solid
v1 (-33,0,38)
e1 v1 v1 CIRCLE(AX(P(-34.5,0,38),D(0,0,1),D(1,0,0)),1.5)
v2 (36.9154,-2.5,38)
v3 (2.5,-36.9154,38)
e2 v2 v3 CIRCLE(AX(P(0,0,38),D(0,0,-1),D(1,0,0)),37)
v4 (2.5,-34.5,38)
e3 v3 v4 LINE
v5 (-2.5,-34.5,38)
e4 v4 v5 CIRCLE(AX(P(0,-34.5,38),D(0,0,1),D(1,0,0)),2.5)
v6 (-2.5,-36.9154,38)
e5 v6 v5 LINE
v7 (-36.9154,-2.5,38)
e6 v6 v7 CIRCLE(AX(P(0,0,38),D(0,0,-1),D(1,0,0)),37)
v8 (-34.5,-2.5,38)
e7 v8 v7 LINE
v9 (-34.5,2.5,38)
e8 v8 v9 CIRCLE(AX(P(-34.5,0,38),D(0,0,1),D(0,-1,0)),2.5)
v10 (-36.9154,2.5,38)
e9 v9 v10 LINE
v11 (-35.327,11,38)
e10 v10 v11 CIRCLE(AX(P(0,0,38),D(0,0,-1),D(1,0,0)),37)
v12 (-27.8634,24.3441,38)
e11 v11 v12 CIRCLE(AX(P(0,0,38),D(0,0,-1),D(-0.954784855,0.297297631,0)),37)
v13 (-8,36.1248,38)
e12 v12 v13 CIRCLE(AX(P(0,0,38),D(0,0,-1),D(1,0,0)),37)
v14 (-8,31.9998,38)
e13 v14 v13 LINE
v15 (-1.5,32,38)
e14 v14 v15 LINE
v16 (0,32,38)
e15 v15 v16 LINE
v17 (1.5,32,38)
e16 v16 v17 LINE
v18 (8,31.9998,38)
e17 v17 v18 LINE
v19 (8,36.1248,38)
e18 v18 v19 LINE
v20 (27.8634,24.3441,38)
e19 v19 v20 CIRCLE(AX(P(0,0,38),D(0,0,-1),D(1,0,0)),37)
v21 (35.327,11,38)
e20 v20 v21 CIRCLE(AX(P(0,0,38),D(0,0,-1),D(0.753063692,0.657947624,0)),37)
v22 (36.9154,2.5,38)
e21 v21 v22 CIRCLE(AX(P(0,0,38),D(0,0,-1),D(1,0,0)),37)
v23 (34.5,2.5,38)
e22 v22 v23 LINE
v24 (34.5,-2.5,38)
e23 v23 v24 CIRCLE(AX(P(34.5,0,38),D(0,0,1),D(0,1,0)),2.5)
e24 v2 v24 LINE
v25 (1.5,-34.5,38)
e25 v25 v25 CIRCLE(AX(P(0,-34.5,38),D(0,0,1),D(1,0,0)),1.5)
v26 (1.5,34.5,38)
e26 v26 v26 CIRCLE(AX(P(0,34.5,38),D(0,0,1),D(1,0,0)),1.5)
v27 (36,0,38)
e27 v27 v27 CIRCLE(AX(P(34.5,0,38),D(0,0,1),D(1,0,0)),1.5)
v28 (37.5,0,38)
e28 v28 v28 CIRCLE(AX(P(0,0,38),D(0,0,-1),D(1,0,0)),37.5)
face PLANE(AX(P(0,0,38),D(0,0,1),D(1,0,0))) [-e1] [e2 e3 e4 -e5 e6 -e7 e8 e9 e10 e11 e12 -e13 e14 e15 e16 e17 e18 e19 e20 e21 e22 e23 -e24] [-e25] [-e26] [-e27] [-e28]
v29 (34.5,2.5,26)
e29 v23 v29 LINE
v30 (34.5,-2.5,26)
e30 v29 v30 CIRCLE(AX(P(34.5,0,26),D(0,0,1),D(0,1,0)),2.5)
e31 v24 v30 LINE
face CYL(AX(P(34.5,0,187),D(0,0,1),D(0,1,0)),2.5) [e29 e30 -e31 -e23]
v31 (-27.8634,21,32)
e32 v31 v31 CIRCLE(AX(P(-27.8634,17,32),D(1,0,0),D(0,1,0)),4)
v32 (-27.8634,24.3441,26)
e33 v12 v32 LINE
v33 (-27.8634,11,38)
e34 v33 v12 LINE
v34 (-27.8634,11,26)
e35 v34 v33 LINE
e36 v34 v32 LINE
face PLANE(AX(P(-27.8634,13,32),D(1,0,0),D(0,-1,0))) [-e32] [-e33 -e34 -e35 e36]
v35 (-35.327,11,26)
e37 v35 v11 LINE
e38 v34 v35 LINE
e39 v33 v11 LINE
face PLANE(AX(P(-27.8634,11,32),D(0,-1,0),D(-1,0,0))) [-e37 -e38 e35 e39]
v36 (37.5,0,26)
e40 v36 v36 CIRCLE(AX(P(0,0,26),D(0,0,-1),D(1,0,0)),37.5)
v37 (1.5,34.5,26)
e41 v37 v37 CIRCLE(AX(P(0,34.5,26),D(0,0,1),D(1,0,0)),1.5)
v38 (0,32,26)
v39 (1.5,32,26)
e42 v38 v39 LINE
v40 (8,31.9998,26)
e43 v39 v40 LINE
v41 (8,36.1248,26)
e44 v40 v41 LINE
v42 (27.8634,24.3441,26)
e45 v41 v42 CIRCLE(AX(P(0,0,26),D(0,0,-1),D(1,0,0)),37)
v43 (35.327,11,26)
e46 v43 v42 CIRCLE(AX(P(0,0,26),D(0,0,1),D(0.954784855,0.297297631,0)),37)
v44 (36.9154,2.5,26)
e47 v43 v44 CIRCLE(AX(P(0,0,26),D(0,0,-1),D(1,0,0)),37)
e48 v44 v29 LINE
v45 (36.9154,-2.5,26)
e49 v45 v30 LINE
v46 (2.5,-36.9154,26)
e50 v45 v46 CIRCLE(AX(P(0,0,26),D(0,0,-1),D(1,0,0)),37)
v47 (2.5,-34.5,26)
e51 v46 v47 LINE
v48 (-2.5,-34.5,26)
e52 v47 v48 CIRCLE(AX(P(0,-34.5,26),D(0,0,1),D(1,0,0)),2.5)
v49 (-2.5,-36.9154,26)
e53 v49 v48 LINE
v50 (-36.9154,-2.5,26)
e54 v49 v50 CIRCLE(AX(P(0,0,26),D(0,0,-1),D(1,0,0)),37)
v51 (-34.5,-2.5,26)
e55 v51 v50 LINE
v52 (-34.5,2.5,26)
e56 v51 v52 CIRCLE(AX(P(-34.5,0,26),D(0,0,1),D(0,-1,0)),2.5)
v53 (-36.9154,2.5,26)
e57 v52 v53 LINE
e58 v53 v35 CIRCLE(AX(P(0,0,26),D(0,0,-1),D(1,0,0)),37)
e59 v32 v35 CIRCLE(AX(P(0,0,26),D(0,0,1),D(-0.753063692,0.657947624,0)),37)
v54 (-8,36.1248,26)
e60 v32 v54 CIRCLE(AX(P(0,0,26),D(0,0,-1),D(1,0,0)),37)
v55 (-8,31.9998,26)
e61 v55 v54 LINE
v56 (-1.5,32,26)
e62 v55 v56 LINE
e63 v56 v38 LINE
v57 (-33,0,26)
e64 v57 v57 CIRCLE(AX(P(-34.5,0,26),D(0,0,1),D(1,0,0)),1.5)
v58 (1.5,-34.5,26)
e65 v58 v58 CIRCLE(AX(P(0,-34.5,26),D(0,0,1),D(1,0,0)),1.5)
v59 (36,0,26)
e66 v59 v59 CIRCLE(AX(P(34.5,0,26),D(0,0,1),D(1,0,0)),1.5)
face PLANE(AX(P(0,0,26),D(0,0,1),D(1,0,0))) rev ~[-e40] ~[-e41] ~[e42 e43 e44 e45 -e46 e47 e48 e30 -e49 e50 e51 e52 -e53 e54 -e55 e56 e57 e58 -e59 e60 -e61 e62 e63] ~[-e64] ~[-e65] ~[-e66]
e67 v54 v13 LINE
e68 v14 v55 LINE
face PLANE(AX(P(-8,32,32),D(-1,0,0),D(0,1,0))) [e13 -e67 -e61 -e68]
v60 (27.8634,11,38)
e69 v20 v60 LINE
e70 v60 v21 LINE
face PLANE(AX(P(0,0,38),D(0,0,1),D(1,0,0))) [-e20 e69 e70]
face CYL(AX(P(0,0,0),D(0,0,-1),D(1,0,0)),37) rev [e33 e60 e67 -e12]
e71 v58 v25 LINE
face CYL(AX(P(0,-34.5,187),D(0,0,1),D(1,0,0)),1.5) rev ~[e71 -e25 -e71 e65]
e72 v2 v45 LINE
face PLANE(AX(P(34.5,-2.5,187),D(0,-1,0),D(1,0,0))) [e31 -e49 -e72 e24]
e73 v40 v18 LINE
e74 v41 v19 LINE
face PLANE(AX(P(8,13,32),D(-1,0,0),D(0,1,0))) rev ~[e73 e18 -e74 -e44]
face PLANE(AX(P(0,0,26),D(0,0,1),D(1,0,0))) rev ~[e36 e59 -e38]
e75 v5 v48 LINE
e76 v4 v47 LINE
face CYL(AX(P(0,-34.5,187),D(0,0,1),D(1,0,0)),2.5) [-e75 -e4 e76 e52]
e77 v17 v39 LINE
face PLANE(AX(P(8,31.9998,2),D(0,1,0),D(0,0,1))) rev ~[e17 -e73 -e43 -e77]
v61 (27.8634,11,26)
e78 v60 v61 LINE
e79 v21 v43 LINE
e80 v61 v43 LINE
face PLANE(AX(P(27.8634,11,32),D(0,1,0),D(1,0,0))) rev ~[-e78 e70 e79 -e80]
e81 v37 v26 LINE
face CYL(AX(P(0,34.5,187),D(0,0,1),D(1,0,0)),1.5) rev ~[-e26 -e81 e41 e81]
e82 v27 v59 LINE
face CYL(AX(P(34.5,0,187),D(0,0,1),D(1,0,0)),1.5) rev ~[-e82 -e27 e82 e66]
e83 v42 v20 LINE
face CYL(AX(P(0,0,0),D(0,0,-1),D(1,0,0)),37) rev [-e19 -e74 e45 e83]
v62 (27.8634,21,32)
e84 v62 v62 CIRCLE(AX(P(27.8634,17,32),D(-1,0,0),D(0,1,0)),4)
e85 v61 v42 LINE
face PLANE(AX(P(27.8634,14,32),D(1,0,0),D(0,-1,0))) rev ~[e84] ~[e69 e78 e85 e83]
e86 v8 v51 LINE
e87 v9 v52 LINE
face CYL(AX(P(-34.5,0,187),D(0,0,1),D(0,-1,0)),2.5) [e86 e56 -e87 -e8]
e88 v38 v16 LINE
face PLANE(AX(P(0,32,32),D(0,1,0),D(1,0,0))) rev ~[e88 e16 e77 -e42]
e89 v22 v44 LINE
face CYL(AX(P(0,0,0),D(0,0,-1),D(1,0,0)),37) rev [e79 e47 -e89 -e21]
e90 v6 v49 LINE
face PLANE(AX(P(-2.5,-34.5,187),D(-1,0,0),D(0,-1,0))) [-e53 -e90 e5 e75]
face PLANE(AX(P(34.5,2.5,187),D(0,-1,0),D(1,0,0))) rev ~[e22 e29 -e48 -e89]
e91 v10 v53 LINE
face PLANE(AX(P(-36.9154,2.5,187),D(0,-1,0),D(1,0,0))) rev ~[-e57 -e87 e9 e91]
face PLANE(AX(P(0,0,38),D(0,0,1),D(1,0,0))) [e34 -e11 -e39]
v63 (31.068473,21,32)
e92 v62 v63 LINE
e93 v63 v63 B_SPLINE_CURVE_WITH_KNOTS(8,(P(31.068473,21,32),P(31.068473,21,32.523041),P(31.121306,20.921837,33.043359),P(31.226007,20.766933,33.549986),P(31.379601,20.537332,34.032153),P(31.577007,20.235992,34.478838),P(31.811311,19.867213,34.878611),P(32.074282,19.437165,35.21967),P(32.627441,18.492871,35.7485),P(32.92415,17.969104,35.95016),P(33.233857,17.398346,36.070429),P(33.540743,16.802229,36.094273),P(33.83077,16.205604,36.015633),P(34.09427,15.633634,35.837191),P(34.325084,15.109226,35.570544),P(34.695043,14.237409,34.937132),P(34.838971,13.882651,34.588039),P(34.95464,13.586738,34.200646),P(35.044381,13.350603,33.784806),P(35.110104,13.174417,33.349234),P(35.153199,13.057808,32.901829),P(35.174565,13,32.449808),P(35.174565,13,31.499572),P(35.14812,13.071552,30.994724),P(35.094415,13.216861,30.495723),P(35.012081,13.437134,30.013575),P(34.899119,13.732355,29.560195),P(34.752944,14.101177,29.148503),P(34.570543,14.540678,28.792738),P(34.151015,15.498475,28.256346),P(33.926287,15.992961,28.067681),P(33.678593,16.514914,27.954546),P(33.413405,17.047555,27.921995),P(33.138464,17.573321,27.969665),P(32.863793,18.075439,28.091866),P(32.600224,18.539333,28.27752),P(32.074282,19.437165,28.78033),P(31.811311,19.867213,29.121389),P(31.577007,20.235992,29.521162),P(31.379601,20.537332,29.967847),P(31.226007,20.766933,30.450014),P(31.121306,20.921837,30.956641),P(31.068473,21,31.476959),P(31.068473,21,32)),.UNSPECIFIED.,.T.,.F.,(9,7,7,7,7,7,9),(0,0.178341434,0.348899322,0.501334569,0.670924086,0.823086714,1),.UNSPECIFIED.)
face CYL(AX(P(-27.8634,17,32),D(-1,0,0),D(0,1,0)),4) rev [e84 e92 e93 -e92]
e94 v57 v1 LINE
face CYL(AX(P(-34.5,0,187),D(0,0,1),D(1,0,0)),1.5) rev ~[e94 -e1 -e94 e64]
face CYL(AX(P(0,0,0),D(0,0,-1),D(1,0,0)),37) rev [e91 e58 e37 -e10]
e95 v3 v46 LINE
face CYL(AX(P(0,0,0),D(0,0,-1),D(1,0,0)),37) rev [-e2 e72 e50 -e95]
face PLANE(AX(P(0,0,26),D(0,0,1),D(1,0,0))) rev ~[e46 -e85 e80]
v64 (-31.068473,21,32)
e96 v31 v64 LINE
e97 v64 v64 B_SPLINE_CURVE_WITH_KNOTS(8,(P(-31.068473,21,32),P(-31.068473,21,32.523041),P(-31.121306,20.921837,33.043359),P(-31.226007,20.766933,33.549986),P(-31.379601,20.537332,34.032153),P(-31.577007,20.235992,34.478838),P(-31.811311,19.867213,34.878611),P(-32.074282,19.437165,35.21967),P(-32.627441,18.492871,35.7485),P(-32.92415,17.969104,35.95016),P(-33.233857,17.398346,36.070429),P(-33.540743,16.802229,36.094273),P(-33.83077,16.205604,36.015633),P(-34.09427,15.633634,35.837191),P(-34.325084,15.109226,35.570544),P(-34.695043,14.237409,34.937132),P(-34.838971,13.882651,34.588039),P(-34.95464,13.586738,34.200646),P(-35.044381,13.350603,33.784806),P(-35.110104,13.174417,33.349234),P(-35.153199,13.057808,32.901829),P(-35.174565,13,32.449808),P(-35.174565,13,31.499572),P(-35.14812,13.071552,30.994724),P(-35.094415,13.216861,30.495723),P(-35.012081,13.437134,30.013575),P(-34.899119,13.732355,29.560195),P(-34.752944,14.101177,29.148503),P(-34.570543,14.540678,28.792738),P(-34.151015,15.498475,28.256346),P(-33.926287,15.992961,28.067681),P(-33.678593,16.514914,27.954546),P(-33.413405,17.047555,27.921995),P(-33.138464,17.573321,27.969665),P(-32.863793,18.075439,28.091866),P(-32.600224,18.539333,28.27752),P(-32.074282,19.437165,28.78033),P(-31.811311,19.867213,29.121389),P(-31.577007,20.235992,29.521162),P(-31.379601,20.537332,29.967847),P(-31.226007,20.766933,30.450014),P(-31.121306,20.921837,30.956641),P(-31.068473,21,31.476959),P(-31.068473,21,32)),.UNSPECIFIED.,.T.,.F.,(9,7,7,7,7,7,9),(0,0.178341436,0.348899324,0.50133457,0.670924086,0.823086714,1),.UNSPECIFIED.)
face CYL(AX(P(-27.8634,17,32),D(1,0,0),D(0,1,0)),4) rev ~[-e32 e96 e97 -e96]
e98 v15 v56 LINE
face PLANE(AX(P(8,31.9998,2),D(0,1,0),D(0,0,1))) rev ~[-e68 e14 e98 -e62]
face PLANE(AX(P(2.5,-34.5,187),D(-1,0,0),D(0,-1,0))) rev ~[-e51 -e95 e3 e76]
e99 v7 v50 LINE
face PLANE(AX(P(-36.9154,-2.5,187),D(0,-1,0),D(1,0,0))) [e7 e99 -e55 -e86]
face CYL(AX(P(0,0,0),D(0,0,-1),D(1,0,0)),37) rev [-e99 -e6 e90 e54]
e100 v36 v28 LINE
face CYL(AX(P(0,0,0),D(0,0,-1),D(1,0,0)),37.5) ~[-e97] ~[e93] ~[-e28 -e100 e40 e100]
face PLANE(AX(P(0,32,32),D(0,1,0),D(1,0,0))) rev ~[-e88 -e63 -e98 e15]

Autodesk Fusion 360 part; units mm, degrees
sketch "Esboço2" plane through (0, 0, 0) normal (0, 0, 1) x (1, 0, 0)
  circle A0 centre (0, 0) radius 37.5
  circle A1 centre (0, 0) radius 37
  dimension "d6" = 75
  dimension "d7" = 74
extrude "Extrusão2" add sketch "Esboço2" along normal blind 190
ref_plane "Plano de trabalho9" through (0, 0, 187) normal (0, 0, 1) x (1, 0, 0)
sketch "Esboço10" plane through (0, 0, 187) normal (0, 0, 1) x (1, 0, 0)
  circle A0 centre (0, 0) radius 34.5 construction
  line L0 (0, 0) -> (-68.1762, 0) construction
  line L1 (0, 0) -> (60, 0) construction
  line L2 (0, 0) -> (0, 45) construction
  line L3 (0, 0) -> (0, -43.1659) construction
  circle A1 centre (34.5, 0) radius 1.5
  line L4 (3, -43) -> (3, -42)
  circle A2 centre (0, 34.5) radius 1.5
  circle A3 centre (-34.5, 0) radius 1.5
  circle A4 centre (0, -34.5) radius 1.5
  arc A5 (34.5, 2.5) -> (34.5, -2.5) centre (34.5, 0) ccw
  arc A6 (-2.5, 34.5) -> (2.5, 34.5) centre (0, 34.5) ccw
  arc A7 (-34.5, -2.5) -> (-34.5, 2.5) centre (-34.5, 0) ccw
  arc A8 (2.5, -34.5) -> (-2.5, -34.5) centre (0, -34.5) ccw
  circle A9 centre (0, 0) radius 37
  line L5 (-36.9154, 2.5) -> (-34.4093, 2.5)
  line L6 (-36.9154, -2.5) -> (-34.4093, -2.5)
  line L7 (34.5, 2.5) -> (36.9154, 2.5)
  line L8 (34.5, -2.5) -> (36.9154, -2.5)
  line L9 (2.5, 36.9154) -> (2.5, 34.4093)
  line L10 (-2.5, 36.9154) -> (-2.5, 34.4093)
  line L11 (-2.5, -34.4093) -> (-2.5, -36.9154)
  line L12 (2.5, -34.4093) -> (2.5, -36.9154)
  dimension "d82" = 69
  dimension "d83" = 3
  dimension "d84" = 2.5
  dimension "d85" = 2.5
  dimension "d87" = 360
  dimension "d89" = 360
  dimension "d90" = 2.5
extrude "Extrusão12" add sketch "Esboço10" against normal blind 184 contours A5 A9 L7 L8 | A6 A9 L9 L10 | A8 A9 L11 L12 | A7 A9 L5 L6
thread "Rosca3"
ref_plane "Plano de trabalho3" through (0, 0, 32) normal (0, 0, 1) x (1, 0, 0)
sketch "Esboço3" plane through (0, 0, 32) normal (0, 0, 1) x (1, 0, 0)
  line L0 (0, 0) -> (0, 37) construction
  line L1 (34.2491, 14) -> (-34.2491, 14)
  circle A0 centre (0, 0) radius 37
  line L2 (31.1288, 20) -> (-31.1288, 20)
  line L3 (32.8634, 17) -> (-32.8634, 17)
  circle A1 centre (0, 0) radius 50
  circle A2 centre (0, 0) radius 37.5
  line L4 (-8, 0) -> (8, 0)
  line L5 (8, 0) -> (8, 36.1248)
  line L6 (-8, 0) -> (-8, 36.1248)
  circle A3 centre (0, 34.5) radius 1.5
  line L7 (1.5, 32.5) -> (1.5, 0)
  arc A4 (-2.5, 34.5) -> (2.5, 34.5) centre (0, 34.5) ccw
  line L8 (-1.5, 32.5) -> (-1.5, 0)
  line L9 (27.8634, 24.3441) -> (27.8634, 11)
  line L10 (27.8634, 11) -> (35.327, 11)
  line L11 (-27.8634, 11) -> (-35.327, 11)
  line L12 (-27.8634, 24.3441) -> (-27.8634, 11)
  line L13 (-30.4631, 21) -> (30.4631, 21)
  line L14 (-34.641, 13) -> (34.641, 13)
  line L15 (0, 32) -> (8, 32)
  line L16 (0, 32) -> (-8, 32)
  dimension "d12" = 6
  dimension "d15" = 3
  dimension "d17" = 75
  dimension "d18" = 100
  dimension "d41" = 14
  dimension "d51" = 8
  dimension "d52" = 16
  dimension "d99" = 3
  dimension "d100" = 2.5
  dimension "d115" = 6.5
  dimension "d123" = 5
  dimension "d124" = 6
  dimension "d143" = 4
  dimension "d144" = 4
extrude "Extrusão21" add sketch "Esboço3" along normal blind 6 and the other way blind 6 contours L1 A0 L9 L14 | L1 A0 L3 L9 | A0 L9 L10 L14 | A0 L2 L3 L9 | A0 L2 L9 L13 | A0 L9 L13 | A0 L11 L12 L14 | L1 A0 L12 L14 | L1 A0 L3 L12 | A0 L2 L3 L12 | A0 L12 L13 | A0 L2 L12 L13
sketch "Esboço18" plane through (-27.8634, 0, 0) normal (1, 0, 0) x (0, 1, 0)
  line L0 (24.3441, 26) -> (24.3441, 38)
  line L1 (24.3441, 38) -> (11, 38)
  line L2 (11, 38) -> (11, 26)
  line L3 (11, 26) -> (24.3441, 26)
  circle A0 centre (17, 32) radius 4
  point P0 (11, 32)
  dimension "d166" = 8
  dimension "d167" = 6
  dimension "d168" = 6
ref_plane "Plano de trabalho11" through (0, 0, 0) normal (1, 0, 0) x (0, 1, 0)
extrude "Extrusão23" cut sketch "Esboço18" against normal blind 15 contours A0
extrude "Extrusão7" add sketch "Esboço3" along normal blind 30 and the other way blind 30 contours L1 L5 L7 L14 | L1 L3 L5 L7 | L4 L5 L7 L14 | L2 L3 L5 L7 | L1 L6 L8 L14 | L1 L3 L6 L8 | L2 L5 L7 L13 | L2 L3 L6 L8 | L4 L6 L8 L14 | L5 L7 L13 L15 | A0 L5 L6 L7 A4 L8 L15 L16 | L2 L6 L8 L13 | L6 L8 L13 L16 | L7 A4 L15 | A4 L8 L16
sketch "Esboço19" plane through (27.8634, 0, 0) normal (-1, 0, 0) x (0, -1, 0)
  line L0 (-11, 26) -> (-11, 38)
  line L1 (-11, 38) -> (-24.3441, 38)
  line L2 (-24.3441, 38) -> (-24.3441, 26)
  line L3 (-24.3441, 26) -> (-11, 26)
extrude "Extrusão24" cut sketch "Esboço18" along normal blind 80 contours A0
sketch "Esboço11" plane through (8, 0, 0) normal (1, 0, 0) x (0, 1, 0)
  line L0 (0, 2) -> (36.1248, 2)
  line L1 (36.1248, 2) -> (36.1248, 62)
  line L2 (36.1248, 62) -> (0, 62)
  line L3 (0, 62) -> (0, 2)
  circle A0 centre (17, 32) radius 3
  circle A1 centre (17, 32) radius 9.5
  circle A2 centre (17, 32) radius 12.5
  line L4 (36.1248, 32) -> (36.1248, -5) construction
  line L5 (0, 32) -> (36.1248, 32)
  line L6 (30.1248, 2) -> (8.3278, 22.9976)
  line L7 (30.1248, 62) -> (8.3278, 41.0024)
  line L8 (30.1248, 2) -> (31.9998, 2)
  line L9 (31.9998, 2) -> (31.9998, 32)
  line L10 (30.1248, 62) -> (31.9998, 62)
  line L11 (31.9998, 62) -> (31.9998, 32)
  circle A3 centre (17, 32) radius 4
  point P0 (14, 32)
  point P1 (20, 32)
  dimension "d106" = 6
  dimension "d107" = 19
  dimension "d109" = 25
  dimension "d110" = 6
  dimension "d147" = 1.875
extrude "Extrusão13" cut sketch "Esboço11" against normal blind 16 contours L0 L3 A2 L5 L6 | L0 A2 L5 L6 L8 L9 | L2 L3 A2 L5 L7 | A1 A2 L5 | A1 A2 L5 | L2 A2 L5 L7 L10 L11 | A1 L5 A3 | A1 L5 A3 | A0 L5 A3 | A0 L5 A3 | A0 L5 | A0 L5
ref_plane "Plano de trabalho4" through (0, 0, 150) normal (0, 0, 1) x (1, 0, 0)
sketch "Esboço4" plane through (0, 0, 150) normal (0, 0, 1) x (1, 0, 0)
  circle A0 centre (0, 0) radius 37
  circle A1 centre (0, 0) radius 50
  circle A2 centre (0, 0) radius 37.5
  line L0 (-20, -31.1288) -> (-20, 31.1288)
  line L1 (-17, -32.8634) -> (-17, 32.8634)
  line L2 (-14, -34.2491) -> (-14, 34.2491)
  line L3 (0, 8) -> (0, -8)
  line L4 (0, 8) -> (-36.1248, 8)
  line L5 (0, -8) -> (-36.1248, -8)
  line L6 (0, 0) -> (-37, 0) construction
  circle A3 centre (-34.5, 0) radius 1.5
  line L7 (0, 1.5) -> (-32.5, 1.5)
  arc A4 (-34.5, -2.5) -> (-34.5, 2.5) centre (-34.5, 0) ccw
  line L8 (0, -1.5) -> (-32.5, -1.5)
  line L9 (-24.3441, -27.8634) -> (-11, -27.8634)
  line L10 (-11, -27.8634) -> (-11, -35.327)
  line L11 (-24.3441, 27.8634) -> (-11, 27.8634)
  line L12 (-11, 27.8634) -> (-11, 35.327)
  line L13 (-13, 34.641) -> (-13, -34.641)
  line L14 (-21, 30.4631) -> (-21, -30.4631)
  line L15 (-32, 0) -> (-32, 8)
  line L16 (-32, 0) -> (-32, -8)
  dimension "d28" = 75
  dimension "d29" = 100
  dimension "d38" = 14
  dimension "d39" = 6
  dimension "d40" = 3
  dimension "d43" = 16
  dimension "d44" = 8
  dimension "d101" = 3
  dimension "d102" = 2.5
  dimension "d116" = 6.5
  dimension "d135" = 6
  dimension "d136" = 5
  dimension "d145" = 4
  dimension "d146" = 4
extrude "Extrusão25" add sketch "Esboço4" along normal blind 6 and the other way blind 6 contours A0 L11 L12 L13 | A0 L9 L10 L13 | A0 L2 L11 L13 | A0 L2 L9 L13 | A0 L1 L2 L11 | A0 L1 L2 L9 | A0 L0 L1 L11 | A0 L0 L1 L9 | A0 L0 L11 L14 | A0 L0 L9 L14 | A0 L11 L14 | A0 L9 L14
sketch "Esboço20" plane through (0, 27.8634, 0) normal (0, -1, 0) x (1, 0, 0)
  line L0 (-11, 144) -> (-11, 156)
  line L1 (-11, 156) -> (-24.3441, 156)
  line L2 (-24.3441, 156) -> (-24.3441, 144)
  line L3 (-24.3441, 144) -> (-11, 144)
  circle A0 centre (-17, 150) radius 4
  dimension "d179" = 8
  dimension "d180" = 6
  dimension "d182" = 6
extrude "Extrusão26" cut sketch "Esboço20" against normal blind 15 contours A0
sketch "Esboço21" plane through (0, -27.8634, 0) normal (0, 1, 0) x (-1, 0, 0)
  line L0 (24.3441, 144) -> (24.3441, 156)
  line L1 (24.3441, 156) -> (11, 156)
  line L2 (11, 156) -> (11, 144)
  line L3 (11, 144) -> (24.3441, 144)
  circle A0 centre (17, 150) radius 4
  dimension "d185" = 8
  dimension "d186" = 6
  dimension "d187" = 6
extrude "Extrusão27" cut sketch "Esboço21" against normal blind 15 contours A0
extrude "Extrusão6" add sketch "Esboço4" along normal blind 30 and the other way blind 30 contours L2 L4 L7 L13 | L3 L4 L7 L13 | L3 L5 L8 L13 | L2 L5 L8 L13 | L1 L2 L4 L7 | L1 L2 L5 L8 | L0 L1 L4 L7 | L0 L1 L5 L8 | L0 L4 L7 L14 | L0 L5 L8 L14 | A0 L4 L5 L7 A4 L8 L15 L16 | L4 L7 L14 L15 | L5 L8 L14 L16 | L7 A4 L15 | A4 L8 L16
sketch "Esboço13" plane through (0, -8, 0) normal (0, -1, 0) x (1, 0, 0)
  line L0 (0, 120) -> (0, 180)
  line L1 (0, 180) -> (-36.1248, 180)
  line L2 (-36.1248, 180) -> (-36.1248, 120)
  line L3 (-36.1248, 120) -> (0, 120)
  circle A0 centre (-17, 150) radius 3
  circle A1 centre (-17, 150) radius 9.5
  circle A2 centre (-17, 150) radius 12.5
  line L4 (-36.1248, 150) -> (-36.1248, 198.4836) construction
  line L5 (-30.1248, 180) -> (-6.6704, 157.4058)
  line L6 (0, 150) -> (-36.1248, 150)
  line L7 (-30.1248, 120) -> (-6.6704, 142.5942)
  line L8 (-30.1248, 180) -> (-31.9998, 180)
  line L9 (-31.9998, 180) -> (-31.9998, 150)
  line L10 (-30.1248, 120) -> (-31.9998, 120)
  line L11 (-31.9998, 120) -> (-31.9998, 150)
  point P0 (-14, 150)
  point P1 (-20, 150)
  dimension "d117" = 6
  dimension "d118" = 19
  dimension "d119" = 25
  dimension "d120" = 6
  dimension "d148" = 1.875
extrude "Extrusão14" cut sketch "Esboço13" against normal blind 16 contours L0 L3 A2 L6 L7 | L0 L1 A2 L5 L6 | L3 A2 L6 L7 L10 L11 | A1 A2 L6 | A1 A2 L6 | L1 A2 L5 L6 L8 L9 | A0 A1 L6 | A0 A1 L6 | A0 L6 | A0 L6
ref_plane "Plano de trabalho5" through (0, 0, 0) normal (1, 0, 0) x (0, 1, 0)
ref_plane "Plano de trabalho6" through (0, 0, 0) normal (0, 1, 0) x (0, 0, 1)
ref_plane "Plano de trabalho7" through (0, 0, 134.3) normal (0, 0, 1) x (1, 0, 0)
sketch "Esboço8" plane through (0, 0, 134.3) normal (0, 0, 1) x (1, 0, 0)
  line L0 (46.3444, 0) -> (0, 0) construction
  line L1 (8, 36.1248) -> (8, -36.1248)
  line L2 (-8, -36.1248) -> (-8, 36.1248)
  circle A0 centre (0, 0) radius 37
  line L3 (0, 0) -> (0, 37) construction
  circle A1 centre (0, 34.5) radius 1.5
  circle A2 centre (0, -34.5) radius 1.5
  dimension "d72" = 8
  dimension "d73" = 8
  dimension "d95" = 2.5
  dimension "d96" = 3
extrude "Extrusão10" add sketch "Esboço8" along normal blind 2 contours L1 L2 A0
ref_plane "Plano de trabalho8" through (0, 0, 45.7) normal (0, 0, 1) x (1, 0, 0)
sketch "Esboço9" plane through (0, 0, 45.7) normal (0, 0, 1) x (1, 0, 0)
  line L0 (0, 0) -> (-37, 0) construction
  line L1 (-36.1248, 8) -> (36.1248, 8)
  line L2 (-36.1248, -8) -> (36.1248, -8)
  circle A0 centre (0, 0) radius 37
  circle A1 centre (-34.5, 0) radius 1.5
  line L3 (0, 0) -> (0, 43.2459) construction
  circle A2 centre (34.5, 0) radius 1.5
  dimension "d77" = 8
  dimension "d78" = 8
  dimension "d97" = 3
  dimension "d98" = 2.5
extrude "Extrusão11" add sketch "Esboço9" along normal blind 2 contours L1 L2 A0
ref_plane "Plano de trabalho10" through (8, 18.0624, 32) normal (1, 0, 0) x (0, 1, 0)
sketch "Esboço16" plane through (-31.9998, 0, 0) normal (1, 0, 0) x (0, 1, 0)
  line L0 (1.5, 180) -> (1.5, 120)
  line L1 (1.5, 120) -> (8, 120)
  line L2 (8, 120) -> (8, 180)
  line L3 (8, 180) -> (1.5, 180)
  line L4 (4.75, 180) -> (4.75, 120) construction
  circle A0 centre (4.75, 170) radius 1.5
  circle A1 centre (4.75, 130) radius 1.5
  line L5 (8, 150) -> (-12.335, 150) construction
  line L6 (0, 2.5) -> (0, 20)
  circle A2 centre (-4.75, 170) radius 1.5
  circle A3 centre (-4.75, 130) radius 1.5
  dimension "d149" = 3
  dimension "d150" = 3
  dimension "d151" = 40
  dimension "d152" = 20
extrude "Extrusão19" cut sketch "Esboço16" against normal blind 10 contours A0 | A1 | A2 | A3
sketch "Esboço17" plane through (0, 31.9998, 0) normal (0, -1, 0) x (1, 0, 0)
  line L0 (1.5, 62) -> (1.5, 2)
  line L1 (1.5, 2) -> (8, 2)
  line L2 (8, 2) -> (8, 62)
  line L3 (8, 62) -> (1.5, 62)
  line L4 (4.75, 2) -> (4.75, 62) construction
  line L5 (8, 32) -> (-12, 32) construction
  circle A0 centre (4.75, 52) radius 1.5
  circle A1 centre (4.75, 12) radius 1.5
  line L6 (0, 1.75) -> (0, 22.5)
  circle A2 centre (-4.75, 12) radius 1.5
  circle A3 centre (-4.75, 52) radius 1.5
  dimension "d155" = 3
  dimension "d156" = 3
  dimension "d157" = 40
  dimension "d158" = 20
extrude "Extrusão20" cut sketch "Esboço17" against normal blind 10 contours A0 | A1 | A2 | A3
thread "Rosca4"
thread "Rosca5"
sketch "Esboço22" plane through (0, 0, 136.3) normal (0, 0, 1) x (-1, 0, 0)
  line L0 (2.5, 36.9154) -> (2.5, 34.5)
  arc A0 (-2.5, 34.5) -> (2.5, 34.5) centre (0, 34.5) ccw
  line L1 (-2.5, 34.5) -> (-2.5, 36.9154)
  arc A1 (-2.5, 36.9154) -> (-8, 36.1248) centre (0, 0) ccw
  line L2 (-8, 36.1248) -> (-8, -36.1248)
  arc A2 (-8, -36.1248) -> (-2.5, -36.9154) centre (0, 0) ccw
  line L3 (-2.5, -36.9154) -> (-2.5, -34.5)
  arc A3 (2.5, -34.5) -> (-2.5, -34.5) centre (0, -34.5) ccw
  line L4 (2.5, -34.5) -> (2.5, -36.9154)
  arc A4 (2.5, -36.9154) -> (8, -36.1248) centre (0, 0) ccw
  line L5 (8, -36.1248) -> (8, 36.1248)
  arc A5 (8, 36.1248) -> (2.5, 36.9154) centre (0, 0) ccw
  line L6 (0, 0) -> (-21, 0) construction
  line L7 (0, 0) -> (0, -19.3) construction
  line L8 (2, -15.8) -> (-2, -15.8)
  arc A6 (-2, -15.8) -> (-2, -22.8) centre (-2, -19.3) ccw
  line L9 (-2, -22.8) -> (2, -22.8)
  arc A7 (2, -22.8) -> (2, -15.8) centre (2, -19.3) ccw
  line L10 (2, -19.3) -> (-2, -19.3) construction
  arc A8 (-2, 22.8) -> (-2, 15.8) centre (-2, 19.3) ccw
  line L11 (2, 15.8) -> (-2, 15.8)
  arc A9 (2, 15.8) -> (2, 22.8) centre (2, 19.3) ccw
  line L12 (-2, 22.8) -> (2, 22.8)
  circle A10 centre (0, 10.8) radius 1.5 construction
  line L13 (2, 19.3) -> (-2, 19.3) construction
  line L14 (2, 12.3) -> (-2, 12.3)
  arc A11 (-2, 12.3) -> (-2, 9.3) centre (-2, 10.8) ccw
  line L15 (-2, 9.3) -> (2, 9.3)
  arc A12 (2, 9.3) -> (2, 12.3) centre (2, 10.8) ccw
  line L16 (2, 10.8) -> (-2, 10.8) construction
  line L17 (2, 26.3) -> (-2, 26.3)
  arc A13 (2, 26.3) -> (2, 29.3) centre (2, 27.8) ccw
  line L18 (-2, 29.3) -> (2, 29.3)
  arc A14 (-2, 29.3) -> (-2, 26.3) centre (-2, 27.8) ccw
  arc A15 (2, -29.3) -> (2, -26.3) centre (2, -27.8) ccw
  line L19 (2, -26.3) -> (-2, -26.3)
  arc A16 (-2, -26.3) -> (-2, -29.3) centre (-2, -27.8) ccw
  line L20 (-2, -29.3) -> (2, -29.3)
  arc A17 (2, -12.3) -> (2, -9.3) centre (2, -10.8) ccw
  line L21 (-2, -9.3) -> (2, -9.3)
  arc A18 (-2, -9.3) -> (-2, -12.3) centre (-2, -10.8) ccw
  line L22 (2, -12.3) -> (-2, -12.3)
  point P0 (0, -19.3)
  point P1 (0, 10.8)
  dimension "d191" = 19.3
  dimension "d195" = 2
  dimension "d196" = 3.5
  dimension "d204" = 3
  dimension "d205" = 8.5
  dimension "d230" = 1.5
  dimension "d231" = 4
extrude "Extrusão28" cut sketch "Esboço22" against normal blind 5 contours L8 A6 L9 A7 | A8 L11 A9 L12 | L14 A11 L15 A12 | L17 A13 L18 A14 | A15 L19 A16 L20 | A17 L21 A18 L22
sketch "Esboço23" plane through (0, 0, 45.7) normal (0, 0, -1) x (1, 0, 0)
  line L0 (36.9154, -2.5) -> (34.5, -2.5)
  arc A0 (34.5, 2.5) -> (34.5, -2.5) centre (34.5, 0) ccw
  line L1 (34.5, 2.5) -> (36.9154, 2.5)
  arc A1 (36.9154, 2.5) -> (36.1248, 8) centre (0, 0) ccw
  line L2 (36.1248, 8) -> (-36.1248, 8)
  arc A2 (-36.1248, 8) -> (-36.9154, 2.5) centre (0, 0) ccw
  line L3 (-36.9154, 2.5) -> (-34.5, 2.5)
  arc A3 (-34.5, -2.5) -> (-34.5, 2.5) centre (-34.5, 0) ccw
  line L4 (-34.5, -2.5) -> (-36.9154, -2.5)
  arc A4 (-36.9154, -2.5) -> (-36.1248, -8) centre (0, 0) ccw
  line L5 (-36.1248, -8) -> (36.1248, -8)
  arc A5 (36.1248, -8) -> (36.9154, -2.5) centre (0, 0) ccw
  line L6 (0, 0) -> (0, -19) construction
  line L7 (0, 0) -> (19.3, 0)
  line L8 (15.8, 2.5) -> (15.8, -2.5)
  arc A6 (15.8, -2.5) -> (22.8, -2.5) centre (19.3, -2.5) ccw
  line L9 (22.8, -2.5) -> (22.8, 2.5)
  arc A7 (22.8, 2.5) -> (15.8, 2.5) centre (19.3, 2.5) ccw
  line L10 (19.3, 2.5) -> (19.3, -2.5) construction
  line L11 (-15.8, 2.5) -> (-15.8, -2.5)
  arc A8 (-15.8, 2.5) -> (-22.8, 2.5) centre (-19.3, 2.5) ccw
  line L12 (-22.8, -2.5) -> (-22.8, 2.5)
  arc A9 (-22.8, -2.5) -> (-15.8, -2.5) centre (-19.3, -2.5) ccw
  circle A10 centre (10.8, 0) radius 1.5 construction
  circle A11 centre (27.8, 0) radius 1.5 construction
  line L13 (9.3, 2.5) -> (9.3, -2.5)
  arc A12 (9.3, -2.5) -> (12.3, -2.5) centre (10.8, -2.5) ccw
  line L14 (12.3, -2.5) -> (12.3, 2.5)
  arc A13 (12.3, 2.5) -> (9.3, 2.5) centre (10.8, 2.5) ccw
  line L15 (10.8, 2.5) -> (10.8, -2.5) construction
  line L16 (26.3, -2.5) -> (26.3, 2.5)
  arc A14 (26.3, -2.5) -> (29.3, -2.5) centre (27.8, -2.5) ccw
  line L17 (29.3, 2.5) -> (29.3, -2.5)
  arc A15 (29.3, 2.5) -> (26.3, 2.5) centre (27.8, 2.5) ccw
  line L18 (-12.3, -2.5) -> (-12.3, 2.5)
  arc A16 (-12.3, -2.5) -> (-9.3, -2.5) centre (-10.8, -2.5) ccw
  line L19 (-9.3, 2.5) -> (-9.3, -2.5)
  arc A17 (-9.3, 2.5) -> (-12.3, 2.5) centre (-10.8, 2.5) ccw
  line L20 (-26.3, -2.5) -> (-26.3, 2.5)
  arc A18 (-29.3, -2.5) -> (-26.3, -2.5) centre (-27.8, -2.5) ccw
  line L21 (-29.3, 2.5) -> (-29.3, -2.5)
  arc A19 (-26.3, 2.5) -> (-29.3, 2.5) centre (-27.8, 2.5) ccw
  point P0 (19.3, 0)
  point P1 (10.8, 0)
  dimension "d199" = 3.5
  dimension "d200" = 5
  dimension "d201" = 19.3
  dimension "d206" = 3
  dimension "d207" = 8.5
  dimension "d228" = 2.5
  dimension "d229" = 1.5
extrude "Extrusão29" cut sketch "Esboço23" against normal blind 10 contours L7 L13 L14 A13 | L8 A6 L9 A7 | L7 L13 A12 L14 | L11 A8 L12 A9 | L16 A14 L17 A15 | L18 A16 L19 A17 | L20 A18 L21 A19
ref_plane "Plano de trabalho12" through (0, 0, 106.3) normal (0, 0, 1) x (1, 0, 0)
sketch "Esboço24" plane through (0, 0, 106.3) normal (0, 0, 1) x (1, 0, 0)
  line L0 (0, 0) -> (28.1868, 0) construction
  line L1 (16, 0) -> (16, 33.3617)
  circle A0 centre (0, 0) radius 37
  line L2 (16, 0) -> (16, -33.3617)
  line L3 (0, 0) -> (0, 19.3) construction
  line L4 (-16, 0) -> (-16, 33.3617)
  line L5 (-16, 0) -> (-16, -33.3617)
  line L6 (-2, 6.8) -> (2, 6.8)
  arc A1 (2, 6.8) -> (2, 31.8) centre (2, 19.3) ccw
  line L7 (2, 31.8) -> (-2, 31.8)
  arc A2 (-2, 31.8) -> (-2, 6.8) centre (-2, 19.3) ccw
  line L8 (-2, 19.3) -> (2, 19.3) construction
  arc A3 (2, -31.8) -> (2, -6.8) centre (2, -19.3) ccw
  arc A4 (-2, -6.8) -> (-2, -31.8) centre (-2, -19.3) ccw
  line L9 (-2, -6.8) -> (2, -6.8)
  line L10 (2, -31.8) -> (-2, -31.8)
  circle A5 centre (0, 34.5) radius 1.5
  circle A6 centre (0, -34.5) radius 1.5
  point P0 (0, 19.3)
  dimension "d209" = 16
  dimension "d210" = 12.5
  dimension "d211" = 4
  dimension "d212" = 19.3
  dimension "d215" = 3
  dimension "d216" = 34.5
ref_plane "Plano de trabalho13" through (0, 0, 55.7) normal (0, 0, -1) x (-1, 0, 0)
ref_plane "Plano de trabalho14" through (0, 0, 60) normal (0, 0, 1) x (1, 0, 0)
sketch "Esboço25" plane through (0, 0, 55.7) normal (0, 0, -1) x (1, 0, 0)
  line L0 (-33.3617, 16) -> (33.3617, 16)
  circle A0 centre (0, 0) radius 37
  line L1 (0, 0) -> (-19.3, 0) construction
  line L2 (-33.3617, -16) -> (33.3617, -16)
  line L3 (-6.8, -2) -> (-6.8, 2)
  arc A1 (-6.8, 2) -> (-31.8, 2) centre (-19.3, 2) ccw
  line L4 (-31.8, 2) -> (-31.8, -2)
  arc A2 (-31.8, -2) -> (-6.8, -2) centre (-19.3, -2) ccw
  line L5 (-19.3, -2) -> (-19.3, 2) construction
  circle A3 centre (-34.5, 0) radius 1.5
  line L6 (0, 0) -> (0, -12) construction
  arc A4 (31.8, 2) -> (6.8, 2) centre (19.3, 2) ccw
  line L7 (6.8, -2) -> (6.8, 2)
  arc A5 (6.8, -2) -> (31.8, -2) centre (19.3, -2) ccw
  circle A6 centre (34.5, 0) radius 1.5
  line L8 (31.8, 2) -> (31.8, -2)
  point P0 (-19.3, 0)
  dimension "d219" = 16
  dimension "d220" = 12.5
  dimension "d221" = 4
  dimension "d222" = 19.3
  dimension "d224" = 34.5
  dimension "d225" = 3
ref_plane "Plano de trabalho15" through (0, 0, 26) normal (0, 0, 1) x (1, 0, 0)
ref_plane "Plano de trabalho17" through (0, 0, 38) normal (0, 0, 1) x (1, 0, 0)
sketch "Esboço26" plane through (0, 0, 26) normal (0, 0, 1) x (1, 0, 0)
  circle A0 centre (0, 0) radius 45.3028
extrude "Extrusão32" cut sketch "Esboço26" against normal blind 100
sketch "Esboço27" plane through (0, 0, 38) normal (0, 0, 1) x (1, 0, 0)
  circle A0 centre (0, 0) radius 47.0817
extrude "Extrusão33" cut sketch "Esboço27" along normal blind 200
